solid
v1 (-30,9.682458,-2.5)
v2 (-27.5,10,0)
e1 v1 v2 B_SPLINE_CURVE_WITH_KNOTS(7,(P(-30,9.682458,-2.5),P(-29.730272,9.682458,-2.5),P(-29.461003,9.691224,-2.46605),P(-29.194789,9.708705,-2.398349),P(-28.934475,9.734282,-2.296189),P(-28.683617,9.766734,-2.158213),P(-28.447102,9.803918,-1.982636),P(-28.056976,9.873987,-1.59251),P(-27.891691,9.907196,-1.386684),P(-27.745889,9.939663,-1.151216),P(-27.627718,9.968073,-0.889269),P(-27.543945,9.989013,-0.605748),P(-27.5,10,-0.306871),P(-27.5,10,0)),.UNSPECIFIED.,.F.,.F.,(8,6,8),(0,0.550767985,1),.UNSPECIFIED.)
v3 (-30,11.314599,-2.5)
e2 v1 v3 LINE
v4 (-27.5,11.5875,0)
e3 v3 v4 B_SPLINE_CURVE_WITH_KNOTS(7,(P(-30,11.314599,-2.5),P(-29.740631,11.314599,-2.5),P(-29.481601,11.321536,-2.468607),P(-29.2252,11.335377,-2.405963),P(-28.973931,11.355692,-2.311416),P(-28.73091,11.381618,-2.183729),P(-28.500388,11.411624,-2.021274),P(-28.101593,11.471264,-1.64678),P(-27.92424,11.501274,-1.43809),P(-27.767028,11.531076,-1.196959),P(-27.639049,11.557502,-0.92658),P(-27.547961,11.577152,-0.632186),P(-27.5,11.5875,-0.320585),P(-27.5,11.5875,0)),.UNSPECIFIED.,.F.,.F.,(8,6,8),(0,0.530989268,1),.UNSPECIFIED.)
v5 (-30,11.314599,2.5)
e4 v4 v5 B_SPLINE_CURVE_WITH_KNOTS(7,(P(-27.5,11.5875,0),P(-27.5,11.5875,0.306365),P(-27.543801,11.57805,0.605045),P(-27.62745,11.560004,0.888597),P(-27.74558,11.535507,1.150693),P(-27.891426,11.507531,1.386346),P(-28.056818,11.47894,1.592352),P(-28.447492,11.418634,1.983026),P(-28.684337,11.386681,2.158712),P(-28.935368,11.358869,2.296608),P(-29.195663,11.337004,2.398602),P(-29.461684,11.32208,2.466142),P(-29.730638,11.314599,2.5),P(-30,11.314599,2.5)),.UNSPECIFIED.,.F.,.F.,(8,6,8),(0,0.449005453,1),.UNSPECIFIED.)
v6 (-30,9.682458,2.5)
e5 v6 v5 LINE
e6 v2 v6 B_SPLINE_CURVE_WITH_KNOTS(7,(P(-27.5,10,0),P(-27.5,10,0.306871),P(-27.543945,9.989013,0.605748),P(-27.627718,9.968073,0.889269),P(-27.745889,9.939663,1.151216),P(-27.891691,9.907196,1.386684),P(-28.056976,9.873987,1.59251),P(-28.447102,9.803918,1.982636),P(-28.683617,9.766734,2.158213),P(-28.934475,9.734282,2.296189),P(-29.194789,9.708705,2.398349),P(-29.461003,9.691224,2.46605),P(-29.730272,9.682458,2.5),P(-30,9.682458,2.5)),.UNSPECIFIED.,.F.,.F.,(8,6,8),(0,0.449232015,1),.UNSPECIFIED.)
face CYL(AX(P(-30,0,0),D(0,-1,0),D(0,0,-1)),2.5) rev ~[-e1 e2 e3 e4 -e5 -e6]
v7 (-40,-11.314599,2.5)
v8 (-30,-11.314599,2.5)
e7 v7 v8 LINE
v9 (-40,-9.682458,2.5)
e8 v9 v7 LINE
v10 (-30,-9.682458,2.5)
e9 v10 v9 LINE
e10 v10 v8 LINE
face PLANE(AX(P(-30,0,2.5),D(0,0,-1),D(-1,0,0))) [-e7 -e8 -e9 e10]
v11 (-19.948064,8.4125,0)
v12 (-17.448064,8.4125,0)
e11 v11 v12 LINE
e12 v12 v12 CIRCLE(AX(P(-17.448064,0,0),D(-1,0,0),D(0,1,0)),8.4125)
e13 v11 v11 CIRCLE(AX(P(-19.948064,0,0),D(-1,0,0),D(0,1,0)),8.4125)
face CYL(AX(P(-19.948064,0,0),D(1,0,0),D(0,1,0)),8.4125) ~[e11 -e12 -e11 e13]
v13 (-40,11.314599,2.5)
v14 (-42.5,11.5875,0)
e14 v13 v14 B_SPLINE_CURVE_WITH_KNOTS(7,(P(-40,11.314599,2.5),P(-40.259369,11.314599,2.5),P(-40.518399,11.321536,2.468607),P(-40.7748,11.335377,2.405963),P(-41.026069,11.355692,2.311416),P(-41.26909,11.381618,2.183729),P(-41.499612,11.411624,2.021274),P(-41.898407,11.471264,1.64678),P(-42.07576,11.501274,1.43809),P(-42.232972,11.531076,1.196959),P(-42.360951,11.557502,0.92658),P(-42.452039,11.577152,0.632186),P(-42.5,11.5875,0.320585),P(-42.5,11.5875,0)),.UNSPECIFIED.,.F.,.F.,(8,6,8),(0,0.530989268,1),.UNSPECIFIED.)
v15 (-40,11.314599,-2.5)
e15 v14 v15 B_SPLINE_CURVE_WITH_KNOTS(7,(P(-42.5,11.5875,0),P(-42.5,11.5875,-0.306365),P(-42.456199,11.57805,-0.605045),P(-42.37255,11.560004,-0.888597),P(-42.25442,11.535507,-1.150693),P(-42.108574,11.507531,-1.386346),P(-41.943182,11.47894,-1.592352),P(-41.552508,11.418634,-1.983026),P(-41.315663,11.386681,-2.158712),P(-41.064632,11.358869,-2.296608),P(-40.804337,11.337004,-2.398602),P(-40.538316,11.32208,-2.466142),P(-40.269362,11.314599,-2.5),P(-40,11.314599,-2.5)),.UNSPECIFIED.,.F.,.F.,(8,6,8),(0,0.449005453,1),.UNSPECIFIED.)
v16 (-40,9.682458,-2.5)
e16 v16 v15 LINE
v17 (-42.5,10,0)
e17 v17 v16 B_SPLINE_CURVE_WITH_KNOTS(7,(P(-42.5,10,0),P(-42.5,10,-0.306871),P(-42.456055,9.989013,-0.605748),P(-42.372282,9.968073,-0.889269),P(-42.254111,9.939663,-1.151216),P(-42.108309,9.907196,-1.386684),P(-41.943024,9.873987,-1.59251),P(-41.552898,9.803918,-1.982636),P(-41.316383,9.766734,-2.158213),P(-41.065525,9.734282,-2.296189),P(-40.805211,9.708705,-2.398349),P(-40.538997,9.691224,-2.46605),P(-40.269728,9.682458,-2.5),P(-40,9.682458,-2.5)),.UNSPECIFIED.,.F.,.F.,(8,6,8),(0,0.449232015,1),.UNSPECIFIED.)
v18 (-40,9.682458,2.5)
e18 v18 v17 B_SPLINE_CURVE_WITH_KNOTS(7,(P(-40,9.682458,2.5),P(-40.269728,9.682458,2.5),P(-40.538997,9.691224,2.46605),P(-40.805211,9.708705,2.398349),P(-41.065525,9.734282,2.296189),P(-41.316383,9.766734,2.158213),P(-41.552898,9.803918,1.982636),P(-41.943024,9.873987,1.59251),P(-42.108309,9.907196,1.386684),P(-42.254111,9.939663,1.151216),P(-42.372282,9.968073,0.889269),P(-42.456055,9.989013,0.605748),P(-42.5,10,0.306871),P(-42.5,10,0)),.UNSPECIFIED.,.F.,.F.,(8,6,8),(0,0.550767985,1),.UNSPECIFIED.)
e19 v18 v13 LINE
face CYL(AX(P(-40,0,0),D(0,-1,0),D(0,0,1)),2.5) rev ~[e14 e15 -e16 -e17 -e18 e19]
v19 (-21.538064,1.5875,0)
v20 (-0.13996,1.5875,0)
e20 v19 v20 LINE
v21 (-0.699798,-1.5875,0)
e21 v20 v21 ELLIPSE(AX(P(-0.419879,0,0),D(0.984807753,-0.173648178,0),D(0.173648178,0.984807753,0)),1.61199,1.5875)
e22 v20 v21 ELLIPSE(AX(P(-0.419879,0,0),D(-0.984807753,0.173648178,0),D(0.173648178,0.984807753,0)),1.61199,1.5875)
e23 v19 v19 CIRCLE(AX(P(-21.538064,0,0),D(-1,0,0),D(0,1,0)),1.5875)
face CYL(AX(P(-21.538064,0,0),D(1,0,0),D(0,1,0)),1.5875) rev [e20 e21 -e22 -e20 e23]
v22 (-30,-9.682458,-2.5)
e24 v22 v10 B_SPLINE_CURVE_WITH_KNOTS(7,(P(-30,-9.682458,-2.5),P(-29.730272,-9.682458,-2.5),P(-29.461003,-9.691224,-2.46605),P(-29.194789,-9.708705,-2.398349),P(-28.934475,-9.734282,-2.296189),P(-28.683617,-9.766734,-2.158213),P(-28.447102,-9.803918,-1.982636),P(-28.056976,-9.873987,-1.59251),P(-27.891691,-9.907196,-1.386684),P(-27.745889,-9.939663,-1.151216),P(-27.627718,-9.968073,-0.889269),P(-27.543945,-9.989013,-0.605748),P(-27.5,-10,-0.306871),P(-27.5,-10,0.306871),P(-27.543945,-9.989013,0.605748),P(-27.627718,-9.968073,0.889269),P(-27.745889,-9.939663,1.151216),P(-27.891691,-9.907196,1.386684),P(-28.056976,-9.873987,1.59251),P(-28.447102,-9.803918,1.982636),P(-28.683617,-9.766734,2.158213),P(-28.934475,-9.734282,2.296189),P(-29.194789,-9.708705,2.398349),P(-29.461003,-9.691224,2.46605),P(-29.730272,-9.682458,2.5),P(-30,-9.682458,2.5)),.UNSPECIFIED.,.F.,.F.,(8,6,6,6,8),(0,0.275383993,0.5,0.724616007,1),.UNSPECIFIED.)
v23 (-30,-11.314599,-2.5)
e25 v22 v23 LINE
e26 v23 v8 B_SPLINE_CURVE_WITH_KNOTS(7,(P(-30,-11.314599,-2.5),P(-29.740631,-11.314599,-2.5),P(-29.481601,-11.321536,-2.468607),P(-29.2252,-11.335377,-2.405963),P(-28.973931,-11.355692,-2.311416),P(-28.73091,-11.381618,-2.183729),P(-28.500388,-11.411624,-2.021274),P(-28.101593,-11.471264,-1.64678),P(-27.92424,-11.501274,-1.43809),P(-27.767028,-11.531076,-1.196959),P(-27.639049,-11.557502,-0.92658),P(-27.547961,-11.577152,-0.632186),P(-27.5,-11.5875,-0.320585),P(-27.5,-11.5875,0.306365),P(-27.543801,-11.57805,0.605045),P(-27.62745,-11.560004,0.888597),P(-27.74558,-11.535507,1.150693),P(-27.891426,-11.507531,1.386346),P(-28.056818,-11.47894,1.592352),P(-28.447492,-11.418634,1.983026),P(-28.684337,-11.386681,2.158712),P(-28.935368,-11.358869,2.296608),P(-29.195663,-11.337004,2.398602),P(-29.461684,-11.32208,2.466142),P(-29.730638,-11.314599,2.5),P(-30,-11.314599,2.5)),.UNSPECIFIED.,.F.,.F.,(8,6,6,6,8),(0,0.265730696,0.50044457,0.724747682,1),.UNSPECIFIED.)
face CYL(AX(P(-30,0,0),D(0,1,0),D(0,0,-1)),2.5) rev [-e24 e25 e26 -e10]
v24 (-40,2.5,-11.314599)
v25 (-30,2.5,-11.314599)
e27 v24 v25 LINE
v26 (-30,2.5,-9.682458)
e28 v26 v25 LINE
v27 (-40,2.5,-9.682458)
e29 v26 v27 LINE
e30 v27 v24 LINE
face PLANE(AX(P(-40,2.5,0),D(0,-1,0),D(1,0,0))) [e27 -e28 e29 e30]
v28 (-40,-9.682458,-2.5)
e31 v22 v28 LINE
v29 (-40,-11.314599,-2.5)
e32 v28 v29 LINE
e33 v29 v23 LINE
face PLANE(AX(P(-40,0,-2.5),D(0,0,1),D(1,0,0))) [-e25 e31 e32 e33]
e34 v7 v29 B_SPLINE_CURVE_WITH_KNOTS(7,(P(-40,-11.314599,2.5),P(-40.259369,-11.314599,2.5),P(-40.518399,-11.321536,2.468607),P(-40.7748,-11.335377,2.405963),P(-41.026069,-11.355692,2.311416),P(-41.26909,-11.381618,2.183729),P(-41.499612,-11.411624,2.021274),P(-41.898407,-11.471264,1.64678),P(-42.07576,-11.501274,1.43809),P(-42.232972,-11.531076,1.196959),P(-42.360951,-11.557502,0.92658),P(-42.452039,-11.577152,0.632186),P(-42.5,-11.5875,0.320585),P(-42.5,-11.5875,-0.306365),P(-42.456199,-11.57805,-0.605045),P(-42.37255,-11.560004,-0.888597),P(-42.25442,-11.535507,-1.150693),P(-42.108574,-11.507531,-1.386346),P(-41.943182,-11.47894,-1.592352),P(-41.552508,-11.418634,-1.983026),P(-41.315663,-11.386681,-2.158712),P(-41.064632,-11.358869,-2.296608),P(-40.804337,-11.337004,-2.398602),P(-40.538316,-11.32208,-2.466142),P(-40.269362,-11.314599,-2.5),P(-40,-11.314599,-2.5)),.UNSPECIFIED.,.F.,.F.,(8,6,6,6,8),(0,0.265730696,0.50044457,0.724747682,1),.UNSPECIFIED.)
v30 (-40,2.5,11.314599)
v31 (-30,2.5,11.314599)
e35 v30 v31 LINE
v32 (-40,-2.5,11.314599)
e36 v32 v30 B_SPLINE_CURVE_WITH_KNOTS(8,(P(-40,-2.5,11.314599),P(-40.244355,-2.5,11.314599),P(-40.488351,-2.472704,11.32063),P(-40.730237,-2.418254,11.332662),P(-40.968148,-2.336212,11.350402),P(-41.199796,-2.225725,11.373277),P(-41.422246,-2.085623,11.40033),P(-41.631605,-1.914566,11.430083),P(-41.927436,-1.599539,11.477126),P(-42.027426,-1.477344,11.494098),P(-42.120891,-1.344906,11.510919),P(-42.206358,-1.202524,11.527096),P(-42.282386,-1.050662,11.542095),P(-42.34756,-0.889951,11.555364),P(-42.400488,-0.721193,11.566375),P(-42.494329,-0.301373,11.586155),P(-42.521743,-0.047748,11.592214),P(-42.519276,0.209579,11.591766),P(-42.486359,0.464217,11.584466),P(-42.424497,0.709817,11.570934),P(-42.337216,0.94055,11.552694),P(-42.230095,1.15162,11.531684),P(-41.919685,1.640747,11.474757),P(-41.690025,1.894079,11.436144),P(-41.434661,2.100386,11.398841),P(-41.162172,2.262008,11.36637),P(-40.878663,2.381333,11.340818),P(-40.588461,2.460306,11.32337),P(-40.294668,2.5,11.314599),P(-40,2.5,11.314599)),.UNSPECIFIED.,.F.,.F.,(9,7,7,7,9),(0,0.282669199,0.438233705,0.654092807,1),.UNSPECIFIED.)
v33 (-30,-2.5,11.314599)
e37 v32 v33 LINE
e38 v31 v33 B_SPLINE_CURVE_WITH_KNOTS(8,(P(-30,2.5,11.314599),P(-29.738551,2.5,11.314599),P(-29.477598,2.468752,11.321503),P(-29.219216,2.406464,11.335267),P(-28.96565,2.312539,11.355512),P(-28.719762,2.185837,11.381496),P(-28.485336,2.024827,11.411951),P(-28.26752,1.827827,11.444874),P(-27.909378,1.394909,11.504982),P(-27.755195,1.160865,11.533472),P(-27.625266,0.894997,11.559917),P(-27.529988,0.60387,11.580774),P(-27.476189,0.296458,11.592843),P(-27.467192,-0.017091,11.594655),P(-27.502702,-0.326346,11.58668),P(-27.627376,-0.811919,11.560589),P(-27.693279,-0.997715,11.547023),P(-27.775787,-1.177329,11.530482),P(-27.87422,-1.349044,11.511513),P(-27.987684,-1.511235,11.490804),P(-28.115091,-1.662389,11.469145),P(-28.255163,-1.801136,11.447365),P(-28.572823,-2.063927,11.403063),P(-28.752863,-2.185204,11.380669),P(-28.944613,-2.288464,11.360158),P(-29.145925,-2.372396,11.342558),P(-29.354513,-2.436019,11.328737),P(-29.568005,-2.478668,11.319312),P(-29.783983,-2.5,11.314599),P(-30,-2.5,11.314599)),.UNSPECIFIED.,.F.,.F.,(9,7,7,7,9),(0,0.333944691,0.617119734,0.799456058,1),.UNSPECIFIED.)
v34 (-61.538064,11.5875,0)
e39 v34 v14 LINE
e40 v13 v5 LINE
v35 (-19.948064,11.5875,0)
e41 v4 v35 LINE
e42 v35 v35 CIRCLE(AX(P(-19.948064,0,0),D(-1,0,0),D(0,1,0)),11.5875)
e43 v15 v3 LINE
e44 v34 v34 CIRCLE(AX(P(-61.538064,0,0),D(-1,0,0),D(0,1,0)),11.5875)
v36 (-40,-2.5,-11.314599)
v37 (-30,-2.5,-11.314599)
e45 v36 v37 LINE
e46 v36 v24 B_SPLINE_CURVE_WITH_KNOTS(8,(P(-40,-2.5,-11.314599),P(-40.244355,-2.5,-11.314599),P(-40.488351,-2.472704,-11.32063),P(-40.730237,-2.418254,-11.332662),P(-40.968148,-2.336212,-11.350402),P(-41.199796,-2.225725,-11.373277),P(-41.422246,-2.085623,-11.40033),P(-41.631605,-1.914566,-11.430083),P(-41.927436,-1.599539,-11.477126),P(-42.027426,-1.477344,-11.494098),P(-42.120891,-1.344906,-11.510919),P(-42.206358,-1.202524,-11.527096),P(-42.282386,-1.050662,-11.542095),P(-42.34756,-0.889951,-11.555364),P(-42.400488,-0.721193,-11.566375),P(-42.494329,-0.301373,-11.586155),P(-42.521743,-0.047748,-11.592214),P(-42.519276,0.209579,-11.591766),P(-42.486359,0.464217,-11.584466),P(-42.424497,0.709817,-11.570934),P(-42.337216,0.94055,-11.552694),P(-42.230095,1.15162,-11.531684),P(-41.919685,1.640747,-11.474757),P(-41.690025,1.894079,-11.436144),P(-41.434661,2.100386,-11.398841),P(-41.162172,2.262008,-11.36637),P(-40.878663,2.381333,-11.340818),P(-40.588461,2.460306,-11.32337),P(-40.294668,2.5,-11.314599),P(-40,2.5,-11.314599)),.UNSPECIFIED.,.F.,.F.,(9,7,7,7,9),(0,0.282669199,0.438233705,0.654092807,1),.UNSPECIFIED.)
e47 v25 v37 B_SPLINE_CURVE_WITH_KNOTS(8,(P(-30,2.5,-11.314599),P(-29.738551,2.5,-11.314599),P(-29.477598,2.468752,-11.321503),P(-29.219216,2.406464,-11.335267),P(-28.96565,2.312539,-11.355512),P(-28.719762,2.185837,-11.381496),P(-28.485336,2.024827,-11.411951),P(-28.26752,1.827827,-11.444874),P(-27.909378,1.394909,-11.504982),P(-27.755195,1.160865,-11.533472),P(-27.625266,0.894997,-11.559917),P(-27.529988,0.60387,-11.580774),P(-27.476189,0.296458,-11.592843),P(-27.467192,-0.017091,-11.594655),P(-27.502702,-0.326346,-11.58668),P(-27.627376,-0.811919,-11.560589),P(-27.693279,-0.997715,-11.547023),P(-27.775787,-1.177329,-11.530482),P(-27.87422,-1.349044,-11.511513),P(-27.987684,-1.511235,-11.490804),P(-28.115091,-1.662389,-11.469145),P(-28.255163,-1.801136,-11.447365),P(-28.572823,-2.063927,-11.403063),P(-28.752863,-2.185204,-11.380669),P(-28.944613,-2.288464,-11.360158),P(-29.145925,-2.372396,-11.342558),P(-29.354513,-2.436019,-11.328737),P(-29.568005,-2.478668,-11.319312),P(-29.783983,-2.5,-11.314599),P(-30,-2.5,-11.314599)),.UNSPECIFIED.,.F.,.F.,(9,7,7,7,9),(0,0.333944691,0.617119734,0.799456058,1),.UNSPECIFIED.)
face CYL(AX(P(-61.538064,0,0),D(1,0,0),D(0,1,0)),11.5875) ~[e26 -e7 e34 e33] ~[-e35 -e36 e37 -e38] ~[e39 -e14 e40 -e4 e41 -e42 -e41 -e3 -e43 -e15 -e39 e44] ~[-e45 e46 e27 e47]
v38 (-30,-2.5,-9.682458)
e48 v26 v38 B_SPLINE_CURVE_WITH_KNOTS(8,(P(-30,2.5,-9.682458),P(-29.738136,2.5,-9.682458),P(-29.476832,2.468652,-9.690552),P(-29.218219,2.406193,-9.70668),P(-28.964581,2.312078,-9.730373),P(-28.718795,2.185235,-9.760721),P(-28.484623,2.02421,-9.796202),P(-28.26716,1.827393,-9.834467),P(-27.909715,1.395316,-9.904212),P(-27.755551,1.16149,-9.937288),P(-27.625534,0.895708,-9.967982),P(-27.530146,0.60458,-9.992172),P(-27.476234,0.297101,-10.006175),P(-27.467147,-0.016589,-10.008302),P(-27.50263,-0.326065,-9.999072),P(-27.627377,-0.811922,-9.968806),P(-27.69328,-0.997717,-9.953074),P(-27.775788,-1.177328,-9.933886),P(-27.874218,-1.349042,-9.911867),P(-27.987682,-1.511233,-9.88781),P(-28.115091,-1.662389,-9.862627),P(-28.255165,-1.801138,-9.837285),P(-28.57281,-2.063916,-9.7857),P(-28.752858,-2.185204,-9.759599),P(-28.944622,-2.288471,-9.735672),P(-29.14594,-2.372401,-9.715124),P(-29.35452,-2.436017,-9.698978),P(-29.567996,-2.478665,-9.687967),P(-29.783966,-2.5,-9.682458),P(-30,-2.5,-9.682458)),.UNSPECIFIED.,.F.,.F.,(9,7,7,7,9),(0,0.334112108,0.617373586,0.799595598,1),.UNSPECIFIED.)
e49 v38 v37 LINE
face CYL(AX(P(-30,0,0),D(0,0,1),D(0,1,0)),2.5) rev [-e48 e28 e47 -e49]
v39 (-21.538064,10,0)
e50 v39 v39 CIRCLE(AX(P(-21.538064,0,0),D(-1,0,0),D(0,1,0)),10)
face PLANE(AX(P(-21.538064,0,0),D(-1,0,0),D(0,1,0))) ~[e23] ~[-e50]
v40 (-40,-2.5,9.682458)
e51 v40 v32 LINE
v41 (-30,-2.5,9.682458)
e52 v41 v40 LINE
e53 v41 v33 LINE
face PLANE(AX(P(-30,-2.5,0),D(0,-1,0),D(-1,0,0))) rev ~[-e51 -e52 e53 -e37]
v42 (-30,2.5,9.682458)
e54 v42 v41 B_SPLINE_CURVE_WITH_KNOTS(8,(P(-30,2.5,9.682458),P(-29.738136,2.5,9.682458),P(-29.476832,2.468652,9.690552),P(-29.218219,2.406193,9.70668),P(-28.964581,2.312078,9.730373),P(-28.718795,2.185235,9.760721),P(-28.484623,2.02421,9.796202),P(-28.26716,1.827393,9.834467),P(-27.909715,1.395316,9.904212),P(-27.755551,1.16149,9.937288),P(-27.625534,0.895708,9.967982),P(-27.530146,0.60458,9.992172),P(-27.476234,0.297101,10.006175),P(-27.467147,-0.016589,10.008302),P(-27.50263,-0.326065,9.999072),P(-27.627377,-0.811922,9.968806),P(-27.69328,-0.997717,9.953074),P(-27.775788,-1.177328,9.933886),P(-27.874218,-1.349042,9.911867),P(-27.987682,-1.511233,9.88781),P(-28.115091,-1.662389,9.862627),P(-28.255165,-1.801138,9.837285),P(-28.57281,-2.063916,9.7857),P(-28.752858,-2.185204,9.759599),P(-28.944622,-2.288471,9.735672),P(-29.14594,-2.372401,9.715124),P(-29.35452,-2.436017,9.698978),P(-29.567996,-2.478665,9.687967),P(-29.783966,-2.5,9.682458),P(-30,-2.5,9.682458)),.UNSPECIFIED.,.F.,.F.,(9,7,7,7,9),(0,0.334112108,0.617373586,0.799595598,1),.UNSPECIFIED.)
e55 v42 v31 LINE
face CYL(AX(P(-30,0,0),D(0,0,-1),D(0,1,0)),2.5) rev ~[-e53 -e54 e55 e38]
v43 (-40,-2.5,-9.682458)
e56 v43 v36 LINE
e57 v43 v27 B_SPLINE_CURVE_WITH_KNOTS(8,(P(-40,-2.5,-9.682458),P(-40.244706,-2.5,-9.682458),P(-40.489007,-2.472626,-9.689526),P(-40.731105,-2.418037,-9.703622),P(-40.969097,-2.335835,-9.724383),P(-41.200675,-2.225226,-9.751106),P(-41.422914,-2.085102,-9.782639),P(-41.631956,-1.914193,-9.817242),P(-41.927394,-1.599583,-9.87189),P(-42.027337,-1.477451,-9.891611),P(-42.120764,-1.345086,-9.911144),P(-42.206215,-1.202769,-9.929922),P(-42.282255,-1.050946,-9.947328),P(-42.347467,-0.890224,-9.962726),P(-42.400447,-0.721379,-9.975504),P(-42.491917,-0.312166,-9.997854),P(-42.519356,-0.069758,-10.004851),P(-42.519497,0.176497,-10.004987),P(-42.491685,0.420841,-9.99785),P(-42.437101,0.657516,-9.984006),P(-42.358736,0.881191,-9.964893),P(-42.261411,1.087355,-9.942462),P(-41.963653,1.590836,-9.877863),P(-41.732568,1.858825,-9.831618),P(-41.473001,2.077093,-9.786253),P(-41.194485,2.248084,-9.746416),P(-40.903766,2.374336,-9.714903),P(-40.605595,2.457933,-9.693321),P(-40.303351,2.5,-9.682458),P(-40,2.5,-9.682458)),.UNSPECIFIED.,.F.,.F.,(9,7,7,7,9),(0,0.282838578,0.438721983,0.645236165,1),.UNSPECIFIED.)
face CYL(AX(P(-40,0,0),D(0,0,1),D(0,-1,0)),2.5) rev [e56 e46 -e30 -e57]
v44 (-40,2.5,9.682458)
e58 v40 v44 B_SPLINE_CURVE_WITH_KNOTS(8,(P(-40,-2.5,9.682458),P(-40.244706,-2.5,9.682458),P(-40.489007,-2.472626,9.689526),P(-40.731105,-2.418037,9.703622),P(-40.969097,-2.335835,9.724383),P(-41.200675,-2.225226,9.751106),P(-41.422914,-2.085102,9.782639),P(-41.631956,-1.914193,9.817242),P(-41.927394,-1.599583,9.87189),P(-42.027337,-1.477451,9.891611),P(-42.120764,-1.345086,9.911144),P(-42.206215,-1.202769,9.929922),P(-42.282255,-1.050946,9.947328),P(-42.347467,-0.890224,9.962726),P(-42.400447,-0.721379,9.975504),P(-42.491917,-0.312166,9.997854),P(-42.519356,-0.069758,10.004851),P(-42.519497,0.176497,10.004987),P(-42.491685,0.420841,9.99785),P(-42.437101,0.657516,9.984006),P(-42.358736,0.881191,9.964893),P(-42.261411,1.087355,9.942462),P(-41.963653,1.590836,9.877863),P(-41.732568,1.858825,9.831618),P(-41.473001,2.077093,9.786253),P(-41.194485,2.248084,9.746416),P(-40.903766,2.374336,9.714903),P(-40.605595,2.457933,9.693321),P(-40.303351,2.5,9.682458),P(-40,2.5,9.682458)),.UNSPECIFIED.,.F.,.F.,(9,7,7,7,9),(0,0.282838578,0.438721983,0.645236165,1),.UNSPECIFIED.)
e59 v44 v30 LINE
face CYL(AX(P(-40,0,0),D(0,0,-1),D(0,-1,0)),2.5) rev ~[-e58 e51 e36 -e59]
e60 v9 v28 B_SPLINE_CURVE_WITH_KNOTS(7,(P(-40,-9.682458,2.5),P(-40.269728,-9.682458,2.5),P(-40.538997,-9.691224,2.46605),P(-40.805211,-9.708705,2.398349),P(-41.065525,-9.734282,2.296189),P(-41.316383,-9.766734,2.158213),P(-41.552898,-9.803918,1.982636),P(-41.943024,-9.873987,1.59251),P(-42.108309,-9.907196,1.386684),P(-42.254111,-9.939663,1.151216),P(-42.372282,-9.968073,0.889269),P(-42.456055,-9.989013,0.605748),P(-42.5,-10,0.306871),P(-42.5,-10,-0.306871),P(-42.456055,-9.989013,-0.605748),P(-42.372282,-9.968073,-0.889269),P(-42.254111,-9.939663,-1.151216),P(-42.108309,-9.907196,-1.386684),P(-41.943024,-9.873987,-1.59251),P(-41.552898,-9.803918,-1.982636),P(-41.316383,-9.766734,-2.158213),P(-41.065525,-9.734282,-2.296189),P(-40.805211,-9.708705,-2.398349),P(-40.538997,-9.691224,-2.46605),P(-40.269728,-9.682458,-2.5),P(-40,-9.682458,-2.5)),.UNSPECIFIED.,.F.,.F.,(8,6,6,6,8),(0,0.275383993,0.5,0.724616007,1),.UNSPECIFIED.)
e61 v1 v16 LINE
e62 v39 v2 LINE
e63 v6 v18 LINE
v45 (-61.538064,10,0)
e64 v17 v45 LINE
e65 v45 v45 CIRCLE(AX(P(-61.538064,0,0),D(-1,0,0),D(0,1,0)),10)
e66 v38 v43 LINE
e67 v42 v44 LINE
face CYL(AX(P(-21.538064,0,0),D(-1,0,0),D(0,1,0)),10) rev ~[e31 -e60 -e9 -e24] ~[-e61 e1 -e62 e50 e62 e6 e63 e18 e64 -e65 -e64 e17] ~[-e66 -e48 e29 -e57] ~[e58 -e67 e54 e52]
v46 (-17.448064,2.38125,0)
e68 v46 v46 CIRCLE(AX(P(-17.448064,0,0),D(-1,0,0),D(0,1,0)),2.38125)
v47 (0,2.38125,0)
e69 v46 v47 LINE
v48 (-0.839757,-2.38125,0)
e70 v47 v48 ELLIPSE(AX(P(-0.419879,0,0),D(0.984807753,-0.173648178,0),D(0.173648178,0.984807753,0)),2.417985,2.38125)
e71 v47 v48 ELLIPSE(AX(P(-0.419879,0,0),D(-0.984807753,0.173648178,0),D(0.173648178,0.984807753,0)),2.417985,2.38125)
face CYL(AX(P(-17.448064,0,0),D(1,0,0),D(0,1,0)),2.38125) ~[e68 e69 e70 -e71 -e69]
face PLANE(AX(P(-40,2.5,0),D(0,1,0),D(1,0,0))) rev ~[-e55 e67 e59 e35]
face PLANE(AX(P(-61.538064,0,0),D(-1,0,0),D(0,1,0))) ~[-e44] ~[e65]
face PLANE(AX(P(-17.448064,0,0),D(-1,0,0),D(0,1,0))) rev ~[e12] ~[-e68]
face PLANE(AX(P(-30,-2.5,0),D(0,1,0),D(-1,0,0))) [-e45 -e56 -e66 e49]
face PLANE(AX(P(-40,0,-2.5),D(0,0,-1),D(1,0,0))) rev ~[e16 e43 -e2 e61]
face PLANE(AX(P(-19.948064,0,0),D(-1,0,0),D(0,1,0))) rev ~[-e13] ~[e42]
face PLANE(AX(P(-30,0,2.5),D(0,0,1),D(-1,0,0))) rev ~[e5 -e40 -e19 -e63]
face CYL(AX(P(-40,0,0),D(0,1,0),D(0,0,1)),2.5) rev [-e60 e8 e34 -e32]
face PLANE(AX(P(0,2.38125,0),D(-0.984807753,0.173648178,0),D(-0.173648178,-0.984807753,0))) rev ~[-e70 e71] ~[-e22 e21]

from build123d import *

# Parameters (mm, degrees)
CORTAR_EXTRUIR1_DEPTH      = 12.5875
CORTAR_EXTRUIR1_DEPTH_BACK = 12.5875
CORTAR_EXTRUIR2_DEPTH      = 12.5875001
CORTAR_EXTRUIR2_DEPTH_BACK = 12.5875001
CORTAR_EXTRUIR3_DEPTH      = 12.5875001
CORTAR_EXTRUIR3_DEPTH_BACK = 12.5875001


with BuildPart() as part:
    # Croquis1 → Revolución1 (revolve)
    with BuildSketch(Plane.XY):
        Polygon((-61.538063792, 11.5875), (-19.948063792, 11.5875), (-19.948063792, 8.4125), (-17.448063792, 8.4125), (-17.448063792, 2.38125), (0, 2.38125), (0, 1.5875), (-17.448063792, 1.5875), (-21.538063792, 1.5875), (-21.538063792, 10), (-61.538063792, 10), align=None)
    revolve(axis=Axis((0, 0, 0), (-1, 0, 0)))

    # Croquis2 → Cortar-Extruir1 (cut, two sides)
    with BuildSketch(Plane.XY) as cortar_extruir1_sk:
        with BuildLine():
            Line((-40, 2.5), (-30, 2.5))
            ThreePointArc((-30, 2.5), (-27.5, 0), (-30, -2.5))
            Line((-30, -2.5), (-40, -2.5))
            ThreePointArc((-40, -2.5), (-42.5, 0), (-40, 2.5))
        make_face()
    extrude(amount=CORTAR_EXTRUIR1_DEPTH, mode=Mode.SUBTRACT)
    extrude(cortar_extruir1_sk.sketch, amount=-CORTAR_EXTRUIR1_DEPTH_BACK, mode=Mode.SUBTRACT)

    # Croquis3 → Cortar-Extruir2 (cut, two sides)
    with BuildSketch(Plane(origin=(0, 0, 0), x_dir=(1, 0, 0), z_dir=(0, 1, 0))) as cortar_extruir2_sk:
        with BuildLine():
            Line((-40, 2.5), (-30, 2.5))
            ThreePointArc((-30, 2.5), (-27.5, 0), (-30, -2.5))
            Line((-30, -2.5), (-40, -2.5))
            ThreePointArc((-40, -2.5), (-42.5, 0), (-40, 2.5))
        make_face()
    extrude(amount=CORTAR_EXTRUIR2_DEPTH, mode=Mode.SUBTRACT)
    extrude(cortar_extruir2_sk.sketch, amount=-CORTAR_EXTRUIR2_DEPTH_BACK, mode=Mode.SUBTRACT)

    # Croquis4 → Cortar-Extruir3 (cut, two sides)
    with BuildSketch(Plane.XY) as cortar_extruir3_sk:
        Polygon((0, 2.38125), (-0.839757246, -2.38125), (0, -2.38125), align=None)
    extrude(amount=CORTAR_EXTRUIR3_DEPTH, mode=Mode.SUBTRACT)
    extrude(cortar_extruir3_sk.sketch, amount=-CORTAR_EXTRUIR3_DEPTH_BACK, mode=Mode.SUBTRACT)


solid = part.part
